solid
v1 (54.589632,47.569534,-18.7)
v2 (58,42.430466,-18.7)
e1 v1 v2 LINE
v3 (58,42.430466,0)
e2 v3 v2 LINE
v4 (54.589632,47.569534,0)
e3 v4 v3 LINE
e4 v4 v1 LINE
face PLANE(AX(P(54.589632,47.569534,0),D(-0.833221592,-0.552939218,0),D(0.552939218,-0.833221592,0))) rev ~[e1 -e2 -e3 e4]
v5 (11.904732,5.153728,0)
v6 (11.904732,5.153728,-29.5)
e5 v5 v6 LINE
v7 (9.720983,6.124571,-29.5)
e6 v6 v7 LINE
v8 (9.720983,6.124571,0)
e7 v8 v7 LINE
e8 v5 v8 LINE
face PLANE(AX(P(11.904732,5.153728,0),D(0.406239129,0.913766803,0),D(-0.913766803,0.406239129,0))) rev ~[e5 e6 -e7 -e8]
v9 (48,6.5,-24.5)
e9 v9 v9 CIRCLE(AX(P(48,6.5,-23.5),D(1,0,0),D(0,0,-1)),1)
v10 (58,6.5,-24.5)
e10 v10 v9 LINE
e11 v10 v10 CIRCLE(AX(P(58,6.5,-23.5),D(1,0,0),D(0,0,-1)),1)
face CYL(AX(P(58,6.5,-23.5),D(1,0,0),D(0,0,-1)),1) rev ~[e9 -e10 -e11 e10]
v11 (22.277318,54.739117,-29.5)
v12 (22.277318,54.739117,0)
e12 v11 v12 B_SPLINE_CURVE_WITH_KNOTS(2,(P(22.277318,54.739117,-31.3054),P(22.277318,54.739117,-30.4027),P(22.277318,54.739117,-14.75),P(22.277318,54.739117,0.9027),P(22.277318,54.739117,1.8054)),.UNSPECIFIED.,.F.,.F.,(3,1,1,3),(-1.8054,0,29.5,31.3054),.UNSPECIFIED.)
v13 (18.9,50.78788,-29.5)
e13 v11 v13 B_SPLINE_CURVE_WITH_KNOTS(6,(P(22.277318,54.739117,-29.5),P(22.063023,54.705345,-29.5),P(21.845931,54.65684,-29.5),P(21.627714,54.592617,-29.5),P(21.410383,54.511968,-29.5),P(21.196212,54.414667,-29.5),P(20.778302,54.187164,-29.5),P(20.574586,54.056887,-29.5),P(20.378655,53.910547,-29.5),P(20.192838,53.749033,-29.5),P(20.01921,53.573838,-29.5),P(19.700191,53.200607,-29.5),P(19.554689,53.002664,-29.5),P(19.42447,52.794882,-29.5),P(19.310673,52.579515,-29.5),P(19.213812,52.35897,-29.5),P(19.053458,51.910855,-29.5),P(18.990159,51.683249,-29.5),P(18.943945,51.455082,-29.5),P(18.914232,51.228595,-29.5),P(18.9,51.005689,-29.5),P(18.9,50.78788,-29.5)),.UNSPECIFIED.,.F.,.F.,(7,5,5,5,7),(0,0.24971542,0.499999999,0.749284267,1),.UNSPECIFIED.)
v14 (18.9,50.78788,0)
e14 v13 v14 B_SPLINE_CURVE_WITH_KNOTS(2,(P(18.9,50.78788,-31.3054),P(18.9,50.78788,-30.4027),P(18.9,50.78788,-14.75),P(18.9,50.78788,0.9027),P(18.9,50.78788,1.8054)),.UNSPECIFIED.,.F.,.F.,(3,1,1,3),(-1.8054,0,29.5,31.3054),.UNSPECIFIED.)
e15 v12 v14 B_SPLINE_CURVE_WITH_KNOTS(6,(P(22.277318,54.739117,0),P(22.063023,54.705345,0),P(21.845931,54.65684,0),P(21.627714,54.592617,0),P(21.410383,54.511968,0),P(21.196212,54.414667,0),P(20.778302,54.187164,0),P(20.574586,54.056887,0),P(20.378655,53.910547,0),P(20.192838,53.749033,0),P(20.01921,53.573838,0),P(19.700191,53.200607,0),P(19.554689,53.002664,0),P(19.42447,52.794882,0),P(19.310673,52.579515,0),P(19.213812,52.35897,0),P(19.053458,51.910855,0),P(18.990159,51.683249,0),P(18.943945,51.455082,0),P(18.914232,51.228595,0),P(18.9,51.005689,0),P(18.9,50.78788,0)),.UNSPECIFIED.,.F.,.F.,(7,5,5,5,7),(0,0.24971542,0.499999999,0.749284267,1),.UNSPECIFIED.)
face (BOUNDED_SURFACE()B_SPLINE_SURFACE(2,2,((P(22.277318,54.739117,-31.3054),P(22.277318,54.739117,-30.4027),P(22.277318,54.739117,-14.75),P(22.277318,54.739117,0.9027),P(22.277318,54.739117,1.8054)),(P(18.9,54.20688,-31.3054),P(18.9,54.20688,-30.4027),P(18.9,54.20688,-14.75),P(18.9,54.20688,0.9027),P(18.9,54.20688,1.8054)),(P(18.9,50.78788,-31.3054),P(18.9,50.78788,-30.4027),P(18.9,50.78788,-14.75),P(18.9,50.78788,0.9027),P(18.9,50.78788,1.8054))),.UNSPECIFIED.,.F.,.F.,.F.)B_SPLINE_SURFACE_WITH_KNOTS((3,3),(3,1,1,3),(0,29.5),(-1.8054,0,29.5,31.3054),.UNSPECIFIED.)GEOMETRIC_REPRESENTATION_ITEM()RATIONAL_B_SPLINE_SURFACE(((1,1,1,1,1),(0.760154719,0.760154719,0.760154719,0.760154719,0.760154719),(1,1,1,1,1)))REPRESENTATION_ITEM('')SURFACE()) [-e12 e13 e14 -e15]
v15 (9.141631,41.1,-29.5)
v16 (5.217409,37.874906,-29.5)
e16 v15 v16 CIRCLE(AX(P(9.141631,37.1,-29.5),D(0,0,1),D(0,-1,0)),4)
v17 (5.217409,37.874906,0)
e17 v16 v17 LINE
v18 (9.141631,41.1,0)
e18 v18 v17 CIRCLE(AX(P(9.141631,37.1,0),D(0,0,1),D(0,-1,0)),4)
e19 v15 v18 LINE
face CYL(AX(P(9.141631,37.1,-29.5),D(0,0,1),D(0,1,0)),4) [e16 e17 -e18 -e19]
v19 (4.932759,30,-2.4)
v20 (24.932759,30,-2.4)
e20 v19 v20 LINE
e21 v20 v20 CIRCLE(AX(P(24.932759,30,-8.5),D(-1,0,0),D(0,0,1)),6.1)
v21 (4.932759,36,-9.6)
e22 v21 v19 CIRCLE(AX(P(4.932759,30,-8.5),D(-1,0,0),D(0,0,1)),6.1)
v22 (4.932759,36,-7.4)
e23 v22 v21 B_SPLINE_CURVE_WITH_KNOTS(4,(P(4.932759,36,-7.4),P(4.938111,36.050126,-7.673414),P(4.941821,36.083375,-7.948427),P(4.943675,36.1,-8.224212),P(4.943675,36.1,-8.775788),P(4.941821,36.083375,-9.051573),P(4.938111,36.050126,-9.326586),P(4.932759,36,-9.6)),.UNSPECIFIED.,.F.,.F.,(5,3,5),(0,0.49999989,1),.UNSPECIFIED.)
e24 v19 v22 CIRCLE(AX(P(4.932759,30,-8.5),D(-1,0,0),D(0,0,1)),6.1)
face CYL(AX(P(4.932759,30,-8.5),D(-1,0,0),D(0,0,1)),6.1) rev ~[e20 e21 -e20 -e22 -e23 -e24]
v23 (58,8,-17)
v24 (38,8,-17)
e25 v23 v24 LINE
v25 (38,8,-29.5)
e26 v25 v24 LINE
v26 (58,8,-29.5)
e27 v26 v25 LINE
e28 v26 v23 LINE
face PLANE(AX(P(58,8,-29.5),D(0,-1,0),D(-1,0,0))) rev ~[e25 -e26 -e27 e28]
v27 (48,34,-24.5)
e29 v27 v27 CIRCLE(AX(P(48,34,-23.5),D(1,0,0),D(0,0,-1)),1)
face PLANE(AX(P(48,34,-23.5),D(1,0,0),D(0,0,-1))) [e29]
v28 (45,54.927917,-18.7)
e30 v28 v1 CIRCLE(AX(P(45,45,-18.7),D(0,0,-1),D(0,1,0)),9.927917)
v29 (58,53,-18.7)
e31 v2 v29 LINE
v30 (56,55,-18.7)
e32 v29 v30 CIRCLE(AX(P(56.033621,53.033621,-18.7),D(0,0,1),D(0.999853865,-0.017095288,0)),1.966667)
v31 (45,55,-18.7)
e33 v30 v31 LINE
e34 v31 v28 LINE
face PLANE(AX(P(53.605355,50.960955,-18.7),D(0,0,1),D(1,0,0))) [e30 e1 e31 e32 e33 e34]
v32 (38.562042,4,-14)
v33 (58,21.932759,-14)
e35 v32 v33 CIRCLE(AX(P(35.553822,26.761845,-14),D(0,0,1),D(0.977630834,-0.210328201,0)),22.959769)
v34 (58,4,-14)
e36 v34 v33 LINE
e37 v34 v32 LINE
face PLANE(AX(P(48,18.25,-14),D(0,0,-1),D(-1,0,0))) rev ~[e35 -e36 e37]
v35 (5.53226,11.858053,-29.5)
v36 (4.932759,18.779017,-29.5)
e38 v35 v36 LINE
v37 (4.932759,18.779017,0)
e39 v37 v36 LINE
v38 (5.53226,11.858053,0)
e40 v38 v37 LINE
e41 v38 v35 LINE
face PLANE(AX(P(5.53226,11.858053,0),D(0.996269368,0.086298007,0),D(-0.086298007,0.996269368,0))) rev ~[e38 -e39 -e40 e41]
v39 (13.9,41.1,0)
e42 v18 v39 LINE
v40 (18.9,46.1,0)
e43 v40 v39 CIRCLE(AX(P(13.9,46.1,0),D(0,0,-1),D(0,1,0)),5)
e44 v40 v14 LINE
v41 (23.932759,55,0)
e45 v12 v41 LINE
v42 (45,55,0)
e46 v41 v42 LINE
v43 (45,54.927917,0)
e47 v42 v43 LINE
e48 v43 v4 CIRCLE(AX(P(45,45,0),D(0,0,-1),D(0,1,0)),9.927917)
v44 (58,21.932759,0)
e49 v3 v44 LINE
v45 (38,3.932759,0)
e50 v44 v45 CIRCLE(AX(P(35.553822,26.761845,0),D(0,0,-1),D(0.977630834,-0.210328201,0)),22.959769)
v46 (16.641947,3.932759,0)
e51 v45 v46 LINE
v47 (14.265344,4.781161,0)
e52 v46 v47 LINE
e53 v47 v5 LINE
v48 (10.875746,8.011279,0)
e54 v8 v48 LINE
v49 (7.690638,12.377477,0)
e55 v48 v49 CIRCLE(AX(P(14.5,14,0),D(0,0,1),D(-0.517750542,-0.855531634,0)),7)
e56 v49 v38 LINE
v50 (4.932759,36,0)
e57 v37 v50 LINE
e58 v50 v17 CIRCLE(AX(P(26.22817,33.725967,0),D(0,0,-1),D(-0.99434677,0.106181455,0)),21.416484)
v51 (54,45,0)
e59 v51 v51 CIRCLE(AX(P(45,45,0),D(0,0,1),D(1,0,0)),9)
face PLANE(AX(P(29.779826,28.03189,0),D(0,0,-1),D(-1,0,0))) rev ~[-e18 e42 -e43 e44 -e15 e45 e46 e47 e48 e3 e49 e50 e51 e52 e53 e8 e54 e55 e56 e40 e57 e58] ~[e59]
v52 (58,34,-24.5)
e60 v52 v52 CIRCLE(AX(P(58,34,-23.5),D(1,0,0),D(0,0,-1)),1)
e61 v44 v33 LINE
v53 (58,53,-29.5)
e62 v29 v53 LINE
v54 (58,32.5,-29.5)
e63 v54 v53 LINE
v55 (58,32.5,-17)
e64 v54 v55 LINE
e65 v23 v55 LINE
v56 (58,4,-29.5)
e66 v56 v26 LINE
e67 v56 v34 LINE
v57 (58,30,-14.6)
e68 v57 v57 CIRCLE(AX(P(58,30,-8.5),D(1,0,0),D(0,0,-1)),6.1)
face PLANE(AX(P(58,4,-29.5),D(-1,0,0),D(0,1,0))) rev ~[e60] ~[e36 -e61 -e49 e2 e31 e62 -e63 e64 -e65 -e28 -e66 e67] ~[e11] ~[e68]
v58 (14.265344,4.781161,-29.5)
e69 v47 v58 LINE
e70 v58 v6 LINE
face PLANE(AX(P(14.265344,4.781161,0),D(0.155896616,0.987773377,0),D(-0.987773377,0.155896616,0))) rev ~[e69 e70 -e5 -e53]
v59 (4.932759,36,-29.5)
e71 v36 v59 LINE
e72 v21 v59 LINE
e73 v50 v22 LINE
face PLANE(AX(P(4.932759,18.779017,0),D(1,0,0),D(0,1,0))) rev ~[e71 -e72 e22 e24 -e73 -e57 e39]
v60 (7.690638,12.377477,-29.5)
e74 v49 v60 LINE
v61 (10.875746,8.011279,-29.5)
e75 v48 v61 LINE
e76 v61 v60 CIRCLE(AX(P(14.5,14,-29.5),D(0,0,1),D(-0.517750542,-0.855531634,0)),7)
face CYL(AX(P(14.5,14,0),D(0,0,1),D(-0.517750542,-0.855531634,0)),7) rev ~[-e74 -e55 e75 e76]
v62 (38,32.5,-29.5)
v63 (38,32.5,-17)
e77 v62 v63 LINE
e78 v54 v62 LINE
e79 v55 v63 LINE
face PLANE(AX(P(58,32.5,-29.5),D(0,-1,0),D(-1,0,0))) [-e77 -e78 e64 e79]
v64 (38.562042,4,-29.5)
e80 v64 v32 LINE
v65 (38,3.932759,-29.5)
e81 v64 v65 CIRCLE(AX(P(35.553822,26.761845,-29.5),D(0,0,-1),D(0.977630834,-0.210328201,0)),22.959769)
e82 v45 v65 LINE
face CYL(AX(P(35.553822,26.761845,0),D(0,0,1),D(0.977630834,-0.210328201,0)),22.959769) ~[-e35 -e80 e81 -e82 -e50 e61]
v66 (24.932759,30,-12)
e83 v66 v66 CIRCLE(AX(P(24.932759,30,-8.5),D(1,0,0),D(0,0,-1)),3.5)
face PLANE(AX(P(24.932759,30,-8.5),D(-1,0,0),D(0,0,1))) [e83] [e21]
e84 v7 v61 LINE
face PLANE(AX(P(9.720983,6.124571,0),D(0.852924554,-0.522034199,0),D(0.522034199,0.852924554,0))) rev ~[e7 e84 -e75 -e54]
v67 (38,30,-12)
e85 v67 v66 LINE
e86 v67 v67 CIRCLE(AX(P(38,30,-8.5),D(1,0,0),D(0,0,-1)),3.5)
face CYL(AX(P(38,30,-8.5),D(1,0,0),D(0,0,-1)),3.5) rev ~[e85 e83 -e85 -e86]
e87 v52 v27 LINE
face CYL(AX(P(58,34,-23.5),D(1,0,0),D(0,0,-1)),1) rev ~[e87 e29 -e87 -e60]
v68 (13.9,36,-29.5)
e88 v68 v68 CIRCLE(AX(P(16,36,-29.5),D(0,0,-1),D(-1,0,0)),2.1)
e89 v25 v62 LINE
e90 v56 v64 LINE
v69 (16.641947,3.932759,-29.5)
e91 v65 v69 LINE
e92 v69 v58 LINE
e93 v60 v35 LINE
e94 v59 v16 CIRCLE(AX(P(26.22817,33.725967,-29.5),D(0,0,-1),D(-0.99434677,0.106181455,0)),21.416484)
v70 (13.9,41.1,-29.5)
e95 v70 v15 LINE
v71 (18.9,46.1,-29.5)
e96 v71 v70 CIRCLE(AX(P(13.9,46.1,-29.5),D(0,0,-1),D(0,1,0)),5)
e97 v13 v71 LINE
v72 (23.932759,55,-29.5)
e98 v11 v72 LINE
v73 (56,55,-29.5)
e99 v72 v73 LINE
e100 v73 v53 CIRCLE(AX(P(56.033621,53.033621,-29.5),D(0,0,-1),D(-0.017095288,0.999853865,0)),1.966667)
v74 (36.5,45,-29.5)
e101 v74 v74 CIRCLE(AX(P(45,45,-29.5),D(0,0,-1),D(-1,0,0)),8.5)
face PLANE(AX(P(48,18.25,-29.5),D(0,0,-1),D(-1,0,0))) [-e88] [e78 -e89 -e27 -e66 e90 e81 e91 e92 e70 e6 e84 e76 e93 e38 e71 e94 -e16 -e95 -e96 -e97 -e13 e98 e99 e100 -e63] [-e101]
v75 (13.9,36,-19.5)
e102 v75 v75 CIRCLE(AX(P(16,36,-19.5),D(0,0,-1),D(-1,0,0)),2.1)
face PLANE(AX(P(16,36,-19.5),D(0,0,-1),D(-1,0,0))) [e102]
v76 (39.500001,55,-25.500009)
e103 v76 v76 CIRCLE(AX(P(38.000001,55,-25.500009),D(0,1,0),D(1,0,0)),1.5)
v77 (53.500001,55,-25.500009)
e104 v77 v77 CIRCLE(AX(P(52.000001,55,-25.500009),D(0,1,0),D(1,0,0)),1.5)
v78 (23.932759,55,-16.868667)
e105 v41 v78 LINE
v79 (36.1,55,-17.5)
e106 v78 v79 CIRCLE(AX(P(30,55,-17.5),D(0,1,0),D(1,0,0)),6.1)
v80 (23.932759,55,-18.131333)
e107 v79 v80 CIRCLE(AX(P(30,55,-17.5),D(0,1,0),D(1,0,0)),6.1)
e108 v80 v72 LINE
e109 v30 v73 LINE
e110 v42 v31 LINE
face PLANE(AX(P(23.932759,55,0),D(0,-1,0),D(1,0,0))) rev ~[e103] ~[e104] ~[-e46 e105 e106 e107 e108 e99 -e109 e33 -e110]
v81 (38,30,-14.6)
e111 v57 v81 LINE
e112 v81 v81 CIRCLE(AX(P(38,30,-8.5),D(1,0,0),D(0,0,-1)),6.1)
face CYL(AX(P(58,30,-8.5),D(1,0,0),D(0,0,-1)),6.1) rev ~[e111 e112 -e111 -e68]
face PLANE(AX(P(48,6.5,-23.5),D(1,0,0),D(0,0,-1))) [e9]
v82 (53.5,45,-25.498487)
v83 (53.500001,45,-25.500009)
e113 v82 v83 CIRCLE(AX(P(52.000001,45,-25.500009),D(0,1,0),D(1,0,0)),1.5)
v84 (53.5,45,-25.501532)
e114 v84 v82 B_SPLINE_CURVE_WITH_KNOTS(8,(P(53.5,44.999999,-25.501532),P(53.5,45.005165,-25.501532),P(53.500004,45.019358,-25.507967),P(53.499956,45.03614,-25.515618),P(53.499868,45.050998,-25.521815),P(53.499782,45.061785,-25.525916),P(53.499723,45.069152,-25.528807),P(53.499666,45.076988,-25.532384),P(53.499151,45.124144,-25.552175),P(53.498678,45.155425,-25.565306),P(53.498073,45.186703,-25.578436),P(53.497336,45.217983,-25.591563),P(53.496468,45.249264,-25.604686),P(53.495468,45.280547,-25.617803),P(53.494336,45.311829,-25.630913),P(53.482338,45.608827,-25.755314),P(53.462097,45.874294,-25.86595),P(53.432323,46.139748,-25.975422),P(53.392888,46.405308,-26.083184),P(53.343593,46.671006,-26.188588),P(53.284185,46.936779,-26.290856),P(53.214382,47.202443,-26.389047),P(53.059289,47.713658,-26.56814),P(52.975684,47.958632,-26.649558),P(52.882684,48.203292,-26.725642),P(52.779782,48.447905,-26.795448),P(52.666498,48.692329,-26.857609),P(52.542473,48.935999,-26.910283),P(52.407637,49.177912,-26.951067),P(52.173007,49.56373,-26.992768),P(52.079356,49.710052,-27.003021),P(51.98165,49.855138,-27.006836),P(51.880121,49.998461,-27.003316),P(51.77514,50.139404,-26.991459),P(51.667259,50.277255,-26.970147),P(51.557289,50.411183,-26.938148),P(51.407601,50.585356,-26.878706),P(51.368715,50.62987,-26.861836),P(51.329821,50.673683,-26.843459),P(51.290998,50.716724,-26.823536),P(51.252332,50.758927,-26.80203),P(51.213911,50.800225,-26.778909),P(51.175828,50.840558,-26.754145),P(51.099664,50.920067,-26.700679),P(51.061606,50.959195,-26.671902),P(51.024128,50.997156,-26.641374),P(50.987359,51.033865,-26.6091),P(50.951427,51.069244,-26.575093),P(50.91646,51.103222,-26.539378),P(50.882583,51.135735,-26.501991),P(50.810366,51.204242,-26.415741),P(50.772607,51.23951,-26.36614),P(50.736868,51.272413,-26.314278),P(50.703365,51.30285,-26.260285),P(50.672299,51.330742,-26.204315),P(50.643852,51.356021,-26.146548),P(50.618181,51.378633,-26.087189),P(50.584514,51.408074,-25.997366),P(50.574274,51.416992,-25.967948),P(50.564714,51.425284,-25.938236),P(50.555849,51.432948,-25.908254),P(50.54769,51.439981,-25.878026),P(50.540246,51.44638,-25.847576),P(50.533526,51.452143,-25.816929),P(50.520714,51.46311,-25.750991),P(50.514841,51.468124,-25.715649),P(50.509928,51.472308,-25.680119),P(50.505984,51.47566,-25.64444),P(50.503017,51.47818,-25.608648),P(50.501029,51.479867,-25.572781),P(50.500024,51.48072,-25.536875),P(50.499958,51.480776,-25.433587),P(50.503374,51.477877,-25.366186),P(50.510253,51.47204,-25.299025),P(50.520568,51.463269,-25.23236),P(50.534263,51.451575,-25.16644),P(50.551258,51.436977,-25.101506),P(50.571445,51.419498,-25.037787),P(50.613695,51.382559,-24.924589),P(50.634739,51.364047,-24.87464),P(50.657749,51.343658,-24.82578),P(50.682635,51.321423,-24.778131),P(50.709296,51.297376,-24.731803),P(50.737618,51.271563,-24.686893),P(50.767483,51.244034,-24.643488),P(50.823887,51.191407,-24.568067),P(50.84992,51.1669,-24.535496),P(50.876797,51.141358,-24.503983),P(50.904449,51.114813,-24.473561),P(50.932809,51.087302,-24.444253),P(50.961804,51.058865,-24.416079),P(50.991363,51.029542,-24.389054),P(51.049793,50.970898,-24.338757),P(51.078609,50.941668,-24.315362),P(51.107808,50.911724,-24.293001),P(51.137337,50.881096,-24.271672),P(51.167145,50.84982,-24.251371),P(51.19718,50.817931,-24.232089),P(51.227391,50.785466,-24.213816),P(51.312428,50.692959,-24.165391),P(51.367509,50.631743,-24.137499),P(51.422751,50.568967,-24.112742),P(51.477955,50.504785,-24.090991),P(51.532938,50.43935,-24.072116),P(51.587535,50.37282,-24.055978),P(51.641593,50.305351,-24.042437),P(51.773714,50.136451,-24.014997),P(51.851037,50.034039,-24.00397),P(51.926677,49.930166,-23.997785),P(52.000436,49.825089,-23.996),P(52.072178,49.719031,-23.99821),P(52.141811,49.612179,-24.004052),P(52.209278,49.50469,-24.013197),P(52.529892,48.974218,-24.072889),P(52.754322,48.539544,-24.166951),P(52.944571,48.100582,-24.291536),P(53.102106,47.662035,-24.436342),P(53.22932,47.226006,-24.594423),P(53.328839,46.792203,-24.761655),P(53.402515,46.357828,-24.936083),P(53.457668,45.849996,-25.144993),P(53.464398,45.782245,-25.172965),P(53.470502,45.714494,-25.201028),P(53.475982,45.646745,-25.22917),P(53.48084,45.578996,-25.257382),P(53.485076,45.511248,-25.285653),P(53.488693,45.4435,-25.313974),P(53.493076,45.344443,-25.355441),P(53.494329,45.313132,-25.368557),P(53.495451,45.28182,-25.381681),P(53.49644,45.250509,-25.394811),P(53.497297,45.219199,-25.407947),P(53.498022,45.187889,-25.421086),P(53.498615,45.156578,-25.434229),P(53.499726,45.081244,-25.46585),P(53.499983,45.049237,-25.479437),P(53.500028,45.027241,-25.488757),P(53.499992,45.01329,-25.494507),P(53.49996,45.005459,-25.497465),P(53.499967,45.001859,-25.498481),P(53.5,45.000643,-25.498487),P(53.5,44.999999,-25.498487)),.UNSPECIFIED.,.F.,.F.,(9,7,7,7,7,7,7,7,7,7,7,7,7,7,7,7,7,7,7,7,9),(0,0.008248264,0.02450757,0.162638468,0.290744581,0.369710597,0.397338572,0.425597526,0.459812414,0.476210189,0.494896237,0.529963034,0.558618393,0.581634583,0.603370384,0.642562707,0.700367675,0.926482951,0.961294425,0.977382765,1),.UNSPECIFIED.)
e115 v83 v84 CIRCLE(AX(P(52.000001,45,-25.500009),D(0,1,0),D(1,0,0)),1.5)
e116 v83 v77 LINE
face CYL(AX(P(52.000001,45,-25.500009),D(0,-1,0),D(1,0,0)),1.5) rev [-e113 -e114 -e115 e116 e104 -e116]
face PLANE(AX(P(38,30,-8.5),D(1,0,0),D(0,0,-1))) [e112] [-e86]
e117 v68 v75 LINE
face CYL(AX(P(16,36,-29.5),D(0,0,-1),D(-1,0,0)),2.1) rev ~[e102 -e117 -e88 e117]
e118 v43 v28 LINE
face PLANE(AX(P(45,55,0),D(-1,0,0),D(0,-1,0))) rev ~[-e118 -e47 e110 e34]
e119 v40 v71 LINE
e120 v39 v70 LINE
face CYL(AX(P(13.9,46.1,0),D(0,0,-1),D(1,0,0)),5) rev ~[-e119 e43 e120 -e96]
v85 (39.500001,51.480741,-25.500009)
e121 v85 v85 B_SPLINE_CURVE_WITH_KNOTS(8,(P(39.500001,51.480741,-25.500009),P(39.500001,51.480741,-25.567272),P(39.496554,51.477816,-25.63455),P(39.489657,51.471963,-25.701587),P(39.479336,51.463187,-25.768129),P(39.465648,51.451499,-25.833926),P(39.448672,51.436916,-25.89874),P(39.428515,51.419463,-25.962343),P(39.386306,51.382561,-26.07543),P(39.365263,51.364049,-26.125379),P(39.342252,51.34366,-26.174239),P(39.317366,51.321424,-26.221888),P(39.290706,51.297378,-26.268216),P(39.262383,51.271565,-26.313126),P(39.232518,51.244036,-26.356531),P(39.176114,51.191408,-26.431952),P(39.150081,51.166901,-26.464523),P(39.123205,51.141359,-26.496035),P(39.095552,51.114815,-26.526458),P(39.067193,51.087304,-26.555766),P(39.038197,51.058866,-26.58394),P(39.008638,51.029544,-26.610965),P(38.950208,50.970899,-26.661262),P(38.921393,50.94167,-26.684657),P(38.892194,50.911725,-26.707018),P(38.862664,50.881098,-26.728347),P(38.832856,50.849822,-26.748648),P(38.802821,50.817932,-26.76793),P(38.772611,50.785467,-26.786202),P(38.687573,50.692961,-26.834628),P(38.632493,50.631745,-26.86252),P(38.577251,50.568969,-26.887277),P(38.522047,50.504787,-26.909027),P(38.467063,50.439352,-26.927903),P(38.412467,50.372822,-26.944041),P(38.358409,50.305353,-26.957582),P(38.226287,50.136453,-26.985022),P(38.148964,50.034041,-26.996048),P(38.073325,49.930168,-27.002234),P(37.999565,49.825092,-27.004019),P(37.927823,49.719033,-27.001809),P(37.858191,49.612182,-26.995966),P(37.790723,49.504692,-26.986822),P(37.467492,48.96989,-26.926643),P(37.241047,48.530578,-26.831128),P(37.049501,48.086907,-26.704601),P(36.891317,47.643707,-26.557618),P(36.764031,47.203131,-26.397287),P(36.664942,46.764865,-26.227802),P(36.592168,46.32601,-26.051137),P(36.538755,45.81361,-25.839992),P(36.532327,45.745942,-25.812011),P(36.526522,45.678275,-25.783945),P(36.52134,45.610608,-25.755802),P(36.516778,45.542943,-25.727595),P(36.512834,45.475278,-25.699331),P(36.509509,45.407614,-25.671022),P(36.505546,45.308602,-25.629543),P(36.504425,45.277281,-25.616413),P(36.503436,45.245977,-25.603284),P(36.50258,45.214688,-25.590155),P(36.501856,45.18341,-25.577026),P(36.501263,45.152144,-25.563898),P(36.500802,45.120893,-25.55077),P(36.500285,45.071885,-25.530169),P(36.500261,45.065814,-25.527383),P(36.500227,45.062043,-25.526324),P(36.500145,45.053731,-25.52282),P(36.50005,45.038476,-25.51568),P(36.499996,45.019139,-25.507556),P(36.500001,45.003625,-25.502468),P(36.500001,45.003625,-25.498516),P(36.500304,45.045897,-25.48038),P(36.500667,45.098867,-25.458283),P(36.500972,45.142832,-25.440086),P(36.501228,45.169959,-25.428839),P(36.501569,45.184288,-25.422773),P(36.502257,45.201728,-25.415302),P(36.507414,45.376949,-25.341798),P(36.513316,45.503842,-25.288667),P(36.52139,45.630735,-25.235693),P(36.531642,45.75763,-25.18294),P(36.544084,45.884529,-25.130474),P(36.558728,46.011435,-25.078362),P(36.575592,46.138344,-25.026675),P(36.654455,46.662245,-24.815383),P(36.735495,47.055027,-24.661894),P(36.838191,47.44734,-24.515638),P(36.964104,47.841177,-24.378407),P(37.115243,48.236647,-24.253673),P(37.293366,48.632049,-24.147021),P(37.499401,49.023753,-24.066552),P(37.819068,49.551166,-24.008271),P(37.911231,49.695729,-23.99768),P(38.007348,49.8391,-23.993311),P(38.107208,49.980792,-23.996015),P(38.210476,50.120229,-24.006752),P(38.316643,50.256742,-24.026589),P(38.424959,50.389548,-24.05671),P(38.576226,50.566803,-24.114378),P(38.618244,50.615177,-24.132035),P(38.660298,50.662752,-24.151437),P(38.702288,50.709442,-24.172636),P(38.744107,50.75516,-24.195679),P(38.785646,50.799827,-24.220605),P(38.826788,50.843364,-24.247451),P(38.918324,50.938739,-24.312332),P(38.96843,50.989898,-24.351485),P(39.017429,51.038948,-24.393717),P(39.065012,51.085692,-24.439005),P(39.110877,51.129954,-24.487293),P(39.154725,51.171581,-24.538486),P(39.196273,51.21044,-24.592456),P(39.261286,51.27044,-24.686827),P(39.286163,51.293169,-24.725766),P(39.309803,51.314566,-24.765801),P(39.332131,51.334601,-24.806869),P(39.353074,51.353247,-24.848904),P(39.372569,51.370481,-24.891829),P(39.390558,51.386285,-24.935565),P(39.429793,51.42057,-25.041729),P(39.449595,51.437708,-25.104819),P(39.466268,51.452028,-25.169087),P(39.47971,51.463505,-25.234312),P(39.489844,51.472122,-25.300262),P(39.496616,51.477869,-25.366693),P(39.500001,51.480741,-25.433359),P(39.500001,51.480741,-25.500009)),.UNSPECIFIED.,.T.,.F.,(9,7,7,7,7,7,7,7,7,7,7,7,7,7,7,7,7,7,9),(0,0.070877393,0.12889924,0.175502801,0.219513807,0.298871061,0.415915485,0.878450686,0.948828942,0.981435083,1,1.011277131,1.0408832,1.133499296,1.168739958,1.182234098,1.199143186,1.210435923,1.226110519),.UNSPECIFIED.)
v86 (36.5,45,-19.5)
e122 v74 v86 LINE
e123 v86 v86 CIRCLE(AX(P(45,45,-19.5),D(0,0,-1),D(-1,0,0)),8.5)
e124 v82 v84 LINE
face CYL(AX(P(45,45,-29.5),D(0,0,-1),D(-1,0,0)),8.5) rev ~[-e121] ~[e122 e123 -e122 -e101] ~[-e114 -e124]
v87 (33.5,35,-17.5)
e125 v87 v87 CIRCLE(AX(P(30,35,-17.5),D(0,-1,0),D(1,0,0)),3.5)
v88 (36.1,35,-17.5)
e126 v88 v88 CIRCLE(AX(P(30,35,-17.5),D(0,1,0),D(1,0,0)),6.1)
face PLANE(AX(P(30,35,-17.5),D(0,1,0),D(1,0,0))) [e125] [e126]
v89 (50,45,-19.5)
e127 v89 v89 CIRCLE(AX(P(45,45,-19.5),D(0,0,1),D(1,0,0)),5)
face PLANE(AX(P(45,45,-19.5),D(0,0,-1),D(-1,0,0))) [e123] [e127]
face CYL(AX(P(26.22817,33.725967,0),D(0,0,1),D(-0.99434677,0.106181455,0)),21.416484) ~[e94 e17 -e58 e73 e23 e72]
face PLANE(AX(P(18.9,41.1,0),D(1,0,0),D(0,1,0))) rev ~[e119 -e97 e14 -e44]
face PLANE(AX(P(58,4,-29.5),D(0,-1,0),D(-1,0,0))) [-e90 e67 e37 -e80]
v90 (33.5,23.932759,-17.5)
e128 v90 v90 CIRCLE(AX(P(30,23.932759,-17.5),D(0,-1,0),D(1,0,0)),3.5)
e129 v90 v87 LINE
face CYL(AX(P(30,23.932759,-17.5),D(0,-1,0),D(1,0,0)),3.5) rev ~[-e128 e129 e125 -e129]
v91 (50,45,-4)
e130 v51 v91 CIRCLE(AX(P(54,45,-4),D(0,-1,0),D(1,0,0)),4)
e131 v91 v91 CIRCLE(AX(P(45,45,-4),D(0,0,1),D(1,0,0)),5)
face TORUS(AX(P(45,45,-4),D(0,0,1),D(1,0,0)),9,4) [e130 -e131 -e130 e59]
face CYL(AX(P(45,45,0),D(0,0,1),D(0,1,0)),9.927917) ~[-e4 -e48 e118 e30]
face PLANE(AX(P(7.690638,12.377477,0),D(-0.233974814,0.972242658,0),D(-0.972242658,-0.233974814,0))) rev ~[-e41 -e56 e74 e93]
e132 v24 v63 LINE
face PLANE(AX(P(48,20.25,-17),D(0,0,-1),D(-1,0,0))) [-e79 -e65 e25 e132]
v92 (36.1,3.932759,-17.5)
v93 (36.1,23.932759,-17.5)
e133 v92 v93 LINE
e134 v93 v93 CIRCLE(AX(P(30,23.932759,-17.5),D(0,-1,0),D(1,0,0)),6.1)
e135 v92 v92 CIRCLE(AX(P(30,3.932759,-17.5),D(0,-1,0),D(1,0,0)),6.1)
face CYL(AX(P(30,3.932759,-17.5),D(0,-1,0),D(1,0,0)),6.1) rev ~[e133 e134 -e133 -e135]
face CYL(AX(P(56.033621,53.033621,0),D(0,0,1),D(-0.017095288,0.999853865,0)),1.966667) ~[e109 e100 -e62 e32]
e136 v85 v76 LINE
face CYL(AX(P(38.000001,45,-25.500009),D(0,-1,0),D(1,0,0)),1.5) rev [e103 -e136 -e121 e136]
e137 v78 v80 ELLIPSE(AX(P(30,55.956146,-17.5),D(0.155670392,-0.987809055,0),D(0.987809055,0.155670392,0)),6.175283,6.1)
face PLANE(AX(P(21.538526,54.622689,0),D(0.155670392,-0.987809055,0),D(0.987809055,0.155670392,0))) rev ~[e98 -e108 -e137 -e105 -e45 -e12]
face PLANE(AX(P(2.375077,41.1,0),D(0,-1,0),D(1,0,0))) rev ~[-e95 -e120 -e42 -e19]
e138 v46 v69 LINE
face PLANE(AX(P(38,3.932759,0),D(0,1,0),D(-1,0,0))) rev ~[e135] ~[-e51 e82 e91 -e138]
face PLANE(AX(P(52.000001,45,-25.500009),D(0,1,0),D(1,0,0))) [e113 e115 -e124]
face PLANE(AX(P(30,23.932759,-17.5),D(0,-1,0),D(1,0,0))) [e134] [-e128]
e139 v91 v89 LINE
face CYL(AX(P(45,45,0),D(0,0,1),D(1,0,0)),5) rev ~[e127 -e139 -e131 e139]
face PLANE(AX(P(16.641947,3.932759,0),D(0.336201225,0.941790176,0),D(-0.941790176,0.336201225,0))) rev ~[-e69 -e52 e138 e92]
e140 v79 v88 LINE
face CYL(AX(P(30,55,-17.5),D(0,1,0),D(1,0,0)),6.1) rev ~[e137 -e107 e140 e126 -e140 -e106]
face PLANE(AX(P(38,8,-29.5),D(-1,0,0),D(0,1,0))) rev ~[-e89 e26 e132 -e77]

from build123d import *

# Parameters (mm, degrees)
SALIENTE_EXTRUIR1_DEPTH = 29.5
CORTAR_EXTRUIR11_DEPTH  = 18.7
CROQUIS12_W             = 20
CROQUIS12_H             = 28.5
SALIENTE_EXTRUIR2_DEPTH = 15.5
CROQUIS6_R              = 8.5
CORTAR_EXTRUIR1_DEPTH   = 10
CROQUIS7_R              = 4.1
CORTAR_EXTRUIR2_DEPTH   = 13.5
CROQUIS8_R              = 4.4
CORTAR_EXTRUIR3_DEPTH   = 6
CROQUIS2_R              = 6.1
CORTAR_EXTRUIR4_DEPTH   = 20
CROQUIS3_R              = 6.1
CORTAR_EXTRUIR5_DEPTH   = 20
CROQUIS4_R              = 6.1
CORTAR_EXTRUIR6_DEPTH   = 20
CROQUIS5_R              = 6.1
CORTAR_EXTRUIR7_DEPTH   = 20
CORTAR_EXTRUIR8_REACH   = 35.067
CROQUIS9_R              = 3.5
CORTAR_EXTRUIR9_REACH   = 33.068
CROQUIS10_R             = 3.5
CROQUIS13_W             = 20
CROQUIS13_H             = 24.5
CORTAR_EXTRUIR10_DEPTH  = 12.5
CORTAR_EXTRUIR12_START  = -10
CROQUIS18_R             = 1.5
CORTAR_EXTRUIR12_DEPTH  = 10
CROQUIS19_R             = 1
CORTAR_EXTRUIR13_DEPTH  = 10
CROQUIS20_R             = 2.1
CORTAR_EXTRUIR14_DEPTH  = 10
CROQUIS21_R             = 5
CORTAR_EXTRUIR15_DEPTH  = 50
CROQUIS23_W             = 16.524922623
CROQUIS23_H             = 14.423778161
CORTAR_EXTRUIR16_DEPTH  = 50
REDONDEO1_R             = 4
REDONDEO2_R             = 5
REDONDEO3_R             = 4


with BuildPart() as part:
    # Croquis1 → Saliente-Extruir1 (new body)
    with BuildSketch(Plane.XY):
        with BuildLine():
            Line((5.532260486, 11.858052865), (4.932758535, 18.779017183))
            Line((4.932758535, 18.779017183), (4.932758535, 36))
            ThreePointArc((4.932758535, 36), (10.243586381, 47.979347327), (21.538526154, 54.62268913))
            Line((21.538526154, 54.62268913), (23.932758535, 55))
            Line((23.932758535, 55), (56, 55))
            ThreePointArc((56, 55), (57.424264069, 54.424264069), (58, 53))
            Line((58, 53), (58, 21.932758535))
            ThreePointArc((58, 21.932758535), (50.913097547, 9.695983483), (38, 3.932758535))
            Line((38, 3.932758535), (16.641947135, 3.932758535))
            Line((16.641947135, 3.932758535), (14.26534365, 4.78116089))
            Line((14.26534365, 4.78116089), (11.904731608, 5.153727551))
            Line((11.904731608, 5.153727551), (9.720982817, 6.124570664))
            Line((9.720982817, 6.124570664), (10.875746205, 8.011278565))
            ThreePointArc((10.875746205, 8.011278565), (20.155175368, 18.125408047), (7.690637501, 12.377476547))
            Line((7.690637501, 12.377476547), (5.532260486, 11.858052865))
        make_face()
    extrude(amount=-SALIENTE_EXTRUIR1_DEPTH)

    # Croquis15 → Cortar-Extruir11 (cut)
    with BuildSketch(Plane.XY):
        with BuildLine():
            Line((58, 42.430465887), (58, 53))
            ThreePointArc((58, 53), (57.424264069, 54.424264069), (56, 55))
            Line((56, 55), (45, 55))
            Line((45, 55), (45, 54.927917446))
            ThreePointArc((45, 54.927917446), (51.043733212, 52.876346468), (54.589631863, 47.569534113))
            Line((54.589631863, 47.569534113), (58, 42.430465887))
        make_face()
    extrude(amount=-CORTAR_EXTRUIR11_DEPTH, mode=Mode.SUBTRACT)

    # Croquis12 → Saliente-Extruir2 (add)
    with BuildSketch(Plane(origin=(0, 0, -29.5), x_dir=(-1, 0, 0), z_dir=(0, 0, -1))):
        with Locations((-48, 18.25)):
            Rectangle(CROQUIS12_W, CROQUIS12_H)
    extrude(amount=-SALIENTE_EXTRUIR2_DEPTH)

    # Croquis6 → Cortar-Extruir1 (cut)
    with BuildSketch(Plane(origin=(0, 0, -29.5), x_dir=(-1, 0, 0), z_dir=(0, 0, -1))):
        with Locations((-45, 45)):
            Circle(CROQUIS6_R)
    extrude(amount=-CORTAR_EXTRUIR1_DEPTH, mode=Mode.SUBTRACT)

    # Croquis7 → Cortar-Extruir2 (cut)
    with BuildSketch(Plane(origin=(0, 0, -19.5), x_dir=(-1, 0, 0), z_dir=(0, 0, -1))):
        with Locations((-45, 45)):
            Circle(CROQUIS7_R)
    extrude(amount=-CORTAR_EXTRUIR2_DEPTH, mode=Mode.SUBTRACT)

    # Croquis8 → Cortar-Extruir3 (cut)
    with BuildSketch(Plane.XY):
        with Locations((45, 45)):
            Circle(CROQUIS8_R)
    extrude(amount=-CORTAR_EXTRUIR3_DEPTH, mode=Mode.SUBTRACT)

    # Croquis2 → Cortar-Extruir4 (cut)
    with BuildSketch(Plane.XZ.offset(-3.932758535)):
        with Locations((30, -17.5)):
            Circle(CROQUIS2_R)
    extrude(amount=-CORTAR_EXTRUIR4_DEPTH, mode=Mode.SUBTRACT)

    # Croquis3 → Cortar-Extruir5 (cut)
    with BuildSketch(Plane(origin=(0, 55, 0), x_dir=(1, 0, 0), z_dir=(0, 1, 0))):
        with Locations((30, 17.5)):
            Circle(CROQUIS3_R)
    extrude(amount=-CORTAR_EXTRUIR5_DEPTH, mode=Mode.SUBTRACT)

    # Croquis4 → Cortar-Extruir6 (cut)
    with BuildSketch(Plane.ZY.offset(-4.932758535)):
        with Locations((-8.5, 30)):
            Circle(CROQUIS4_R)
    extrude(amount=-CORTAR_EXTRUIR6_DEPTH, mode=Mode.SUBTRACT)

    # Croquis5 → Cortar-Extruir7 (cut)
    with BuildSketch(Plane(origin=(58, 0, 0), x_dir=(0, 0, -1), z_dir=(1, 0, 0))):
        with Locations((8.5, 30)):
            Circle(CROQUIS5_R)
    extrude(amount=-CORTAR_EXTRUIR7_DEPTH, mode=Mode.SUBTRACT)

    # Croquis9 → Cortar-Extruir8 (cut, up to next)
    with BuildSketch(Plane(origin=(38, 0, 0), x_dir=(0, 0, -1), z_dir=(1, 0, 0)), mode=Mode.PRIVATE) as cortar_extruir8_sk1:
        with Locations((8.5, 30)):
            Circle(CROQUIS9_R)
    cortar_extruir8_tool1 = extrude(cortar_extruir8_sk1.sketch, amount=-CORTAR_EXTRUIR8_REACH, mode=Mode.PRIVATE) & part.part
    add(cortar_extruir8_tool1.solids().sort_by_distance((38, 30, -8.5))[0], mode=Mode.SUBTRACT)

    # Croquis10 → Cortar-Extruir9 (cut, up to next)
    with BuildSketch(Plane.XZ.offset(-23.932758535), mode=Mode.PRIVATE) as cortar_extruir9_sk1:
        with Locations((30, -17.5)):
            Circle(CROQUIS10_R)
    cortar_extruir9_tool1 = extrude(cortar_extruir9_sk1.sketch, amount=-CORTAR_EXTRUIR9_REACH, mode=Mode.PRIVATE) & part.part
    add(cortar_extruir9_tool1.solids().sort_by_distance((30, 23.932759, -17.5))[0], mode=Mode.SUBTRACT)

    # Croquis13 → Cortar-Extruir10 (cut)
    with BuildSketch(Plane(origin=(0, 0, -29.5), x_dir=(-1, 0, 0), z_dir=(0, 0, -1))):
        with Locations((-48, 20.25)):
            Rectangle(CROQUIS13_W, CROQUIS13_H)
    extrude(amount=-CORTAR_EXTRUIR10_DEPTH, mode=Mode.SUBTRACT)

    # Croquis18 → Cortar-Extruir12 (cut)
    with BuildSketch(Plane(origin=(0, 55, 0), x_dir=(1, 0, 0), z_dir=(0, 1, 0)).offset(CORTAR_EXTRUIR12_START)):
        with Locations((38.000000773, 25.50000943)):
            Circle(CROQUIS18_R)
        with Locations((52.000000773, 25.50000943)):
            Circle(CROQUIS18_R)
    extrude(amount=CORTAR_EXTRUIR12_DEPTH, mode=Mode.SUBTRACT)

    # Croquis19 → Cortar-Extruir13 (cut)
    with BuildSketch(Plane(origin=(58, 0, 0), x_dir=(0, 0, -1), z_dir=(1, 0, 0))):
        with Locations((23.5, 34)):
            Circle(CROQUIS19_R)
        with Locations((23.5, 6.5)):
            Circle(CROQUIS19_R)
    extrude(amount=-CORTAR_EXTRUIR13_DEPTH, mode=Mode.SUBTRACT)

    # Croquis20 → Cortar-Extruir14 (cut)
    with BuildSketch(Plane(origin=(0, 0, -29.5), x_dir=(-1, 0, 0), z_dir=(0, 0, -1))):
        with Locations((-16, 36)):
            Circle(CROQUIS20_R)
    extrude(amount=-CORTAR_EXTRUIR14_DEPTH, mode=Mode.SUBTRACT)

    # Croquis21 → Cortar-Extruir15 (cut)
    with BuildSketch(Plane.XY):
        with Locations((45, 45)):
            Circle(CROQUIS21_R)
    extrude(amount=-CORTAR_EXTRUIR15_DEPTH, mode=Mode.SUBTRACT)

    # Croquis23 → Cortar-Extruir16 (cut)
    with BuildSketch(Plane.XY):
        with Locations((10.637538689, 48.311889081)):
            Rectangle(CROQUIS23_W, CROQUIS23_H)
    extrude(amount=-CORTAR_EXTRUIR16_DEPTH, mode=Mode.SUBTRACT)

    # Redondeo1
    redondeo1_edges = [part.edges().sort_by_distance(p)[0] for p in [
        (6.121220744, 41.1, -14.75),
        (18.9, 53.849676427, -14.75),
    ]]
    fillet(redondeo1_edges, radius=REDONDEO1_R)

    # Redondeo2
    redondeo2_edges = [part.edges().sort_by_distance(p)[0] for p in [
        (18.9, 41.1, -14.75),
    ]]
    fillet(redondeo2_edges, radius=REDONDEO2_R)

    # Redondeo3
    redondeo3_edges = [part.edges().sort_by_distance(p)[0] for p in [
        (40, 45, 0),
    ]]
    fillet(redondeo3_edges, radius=REDONDEO3_R)


solid = part.part
